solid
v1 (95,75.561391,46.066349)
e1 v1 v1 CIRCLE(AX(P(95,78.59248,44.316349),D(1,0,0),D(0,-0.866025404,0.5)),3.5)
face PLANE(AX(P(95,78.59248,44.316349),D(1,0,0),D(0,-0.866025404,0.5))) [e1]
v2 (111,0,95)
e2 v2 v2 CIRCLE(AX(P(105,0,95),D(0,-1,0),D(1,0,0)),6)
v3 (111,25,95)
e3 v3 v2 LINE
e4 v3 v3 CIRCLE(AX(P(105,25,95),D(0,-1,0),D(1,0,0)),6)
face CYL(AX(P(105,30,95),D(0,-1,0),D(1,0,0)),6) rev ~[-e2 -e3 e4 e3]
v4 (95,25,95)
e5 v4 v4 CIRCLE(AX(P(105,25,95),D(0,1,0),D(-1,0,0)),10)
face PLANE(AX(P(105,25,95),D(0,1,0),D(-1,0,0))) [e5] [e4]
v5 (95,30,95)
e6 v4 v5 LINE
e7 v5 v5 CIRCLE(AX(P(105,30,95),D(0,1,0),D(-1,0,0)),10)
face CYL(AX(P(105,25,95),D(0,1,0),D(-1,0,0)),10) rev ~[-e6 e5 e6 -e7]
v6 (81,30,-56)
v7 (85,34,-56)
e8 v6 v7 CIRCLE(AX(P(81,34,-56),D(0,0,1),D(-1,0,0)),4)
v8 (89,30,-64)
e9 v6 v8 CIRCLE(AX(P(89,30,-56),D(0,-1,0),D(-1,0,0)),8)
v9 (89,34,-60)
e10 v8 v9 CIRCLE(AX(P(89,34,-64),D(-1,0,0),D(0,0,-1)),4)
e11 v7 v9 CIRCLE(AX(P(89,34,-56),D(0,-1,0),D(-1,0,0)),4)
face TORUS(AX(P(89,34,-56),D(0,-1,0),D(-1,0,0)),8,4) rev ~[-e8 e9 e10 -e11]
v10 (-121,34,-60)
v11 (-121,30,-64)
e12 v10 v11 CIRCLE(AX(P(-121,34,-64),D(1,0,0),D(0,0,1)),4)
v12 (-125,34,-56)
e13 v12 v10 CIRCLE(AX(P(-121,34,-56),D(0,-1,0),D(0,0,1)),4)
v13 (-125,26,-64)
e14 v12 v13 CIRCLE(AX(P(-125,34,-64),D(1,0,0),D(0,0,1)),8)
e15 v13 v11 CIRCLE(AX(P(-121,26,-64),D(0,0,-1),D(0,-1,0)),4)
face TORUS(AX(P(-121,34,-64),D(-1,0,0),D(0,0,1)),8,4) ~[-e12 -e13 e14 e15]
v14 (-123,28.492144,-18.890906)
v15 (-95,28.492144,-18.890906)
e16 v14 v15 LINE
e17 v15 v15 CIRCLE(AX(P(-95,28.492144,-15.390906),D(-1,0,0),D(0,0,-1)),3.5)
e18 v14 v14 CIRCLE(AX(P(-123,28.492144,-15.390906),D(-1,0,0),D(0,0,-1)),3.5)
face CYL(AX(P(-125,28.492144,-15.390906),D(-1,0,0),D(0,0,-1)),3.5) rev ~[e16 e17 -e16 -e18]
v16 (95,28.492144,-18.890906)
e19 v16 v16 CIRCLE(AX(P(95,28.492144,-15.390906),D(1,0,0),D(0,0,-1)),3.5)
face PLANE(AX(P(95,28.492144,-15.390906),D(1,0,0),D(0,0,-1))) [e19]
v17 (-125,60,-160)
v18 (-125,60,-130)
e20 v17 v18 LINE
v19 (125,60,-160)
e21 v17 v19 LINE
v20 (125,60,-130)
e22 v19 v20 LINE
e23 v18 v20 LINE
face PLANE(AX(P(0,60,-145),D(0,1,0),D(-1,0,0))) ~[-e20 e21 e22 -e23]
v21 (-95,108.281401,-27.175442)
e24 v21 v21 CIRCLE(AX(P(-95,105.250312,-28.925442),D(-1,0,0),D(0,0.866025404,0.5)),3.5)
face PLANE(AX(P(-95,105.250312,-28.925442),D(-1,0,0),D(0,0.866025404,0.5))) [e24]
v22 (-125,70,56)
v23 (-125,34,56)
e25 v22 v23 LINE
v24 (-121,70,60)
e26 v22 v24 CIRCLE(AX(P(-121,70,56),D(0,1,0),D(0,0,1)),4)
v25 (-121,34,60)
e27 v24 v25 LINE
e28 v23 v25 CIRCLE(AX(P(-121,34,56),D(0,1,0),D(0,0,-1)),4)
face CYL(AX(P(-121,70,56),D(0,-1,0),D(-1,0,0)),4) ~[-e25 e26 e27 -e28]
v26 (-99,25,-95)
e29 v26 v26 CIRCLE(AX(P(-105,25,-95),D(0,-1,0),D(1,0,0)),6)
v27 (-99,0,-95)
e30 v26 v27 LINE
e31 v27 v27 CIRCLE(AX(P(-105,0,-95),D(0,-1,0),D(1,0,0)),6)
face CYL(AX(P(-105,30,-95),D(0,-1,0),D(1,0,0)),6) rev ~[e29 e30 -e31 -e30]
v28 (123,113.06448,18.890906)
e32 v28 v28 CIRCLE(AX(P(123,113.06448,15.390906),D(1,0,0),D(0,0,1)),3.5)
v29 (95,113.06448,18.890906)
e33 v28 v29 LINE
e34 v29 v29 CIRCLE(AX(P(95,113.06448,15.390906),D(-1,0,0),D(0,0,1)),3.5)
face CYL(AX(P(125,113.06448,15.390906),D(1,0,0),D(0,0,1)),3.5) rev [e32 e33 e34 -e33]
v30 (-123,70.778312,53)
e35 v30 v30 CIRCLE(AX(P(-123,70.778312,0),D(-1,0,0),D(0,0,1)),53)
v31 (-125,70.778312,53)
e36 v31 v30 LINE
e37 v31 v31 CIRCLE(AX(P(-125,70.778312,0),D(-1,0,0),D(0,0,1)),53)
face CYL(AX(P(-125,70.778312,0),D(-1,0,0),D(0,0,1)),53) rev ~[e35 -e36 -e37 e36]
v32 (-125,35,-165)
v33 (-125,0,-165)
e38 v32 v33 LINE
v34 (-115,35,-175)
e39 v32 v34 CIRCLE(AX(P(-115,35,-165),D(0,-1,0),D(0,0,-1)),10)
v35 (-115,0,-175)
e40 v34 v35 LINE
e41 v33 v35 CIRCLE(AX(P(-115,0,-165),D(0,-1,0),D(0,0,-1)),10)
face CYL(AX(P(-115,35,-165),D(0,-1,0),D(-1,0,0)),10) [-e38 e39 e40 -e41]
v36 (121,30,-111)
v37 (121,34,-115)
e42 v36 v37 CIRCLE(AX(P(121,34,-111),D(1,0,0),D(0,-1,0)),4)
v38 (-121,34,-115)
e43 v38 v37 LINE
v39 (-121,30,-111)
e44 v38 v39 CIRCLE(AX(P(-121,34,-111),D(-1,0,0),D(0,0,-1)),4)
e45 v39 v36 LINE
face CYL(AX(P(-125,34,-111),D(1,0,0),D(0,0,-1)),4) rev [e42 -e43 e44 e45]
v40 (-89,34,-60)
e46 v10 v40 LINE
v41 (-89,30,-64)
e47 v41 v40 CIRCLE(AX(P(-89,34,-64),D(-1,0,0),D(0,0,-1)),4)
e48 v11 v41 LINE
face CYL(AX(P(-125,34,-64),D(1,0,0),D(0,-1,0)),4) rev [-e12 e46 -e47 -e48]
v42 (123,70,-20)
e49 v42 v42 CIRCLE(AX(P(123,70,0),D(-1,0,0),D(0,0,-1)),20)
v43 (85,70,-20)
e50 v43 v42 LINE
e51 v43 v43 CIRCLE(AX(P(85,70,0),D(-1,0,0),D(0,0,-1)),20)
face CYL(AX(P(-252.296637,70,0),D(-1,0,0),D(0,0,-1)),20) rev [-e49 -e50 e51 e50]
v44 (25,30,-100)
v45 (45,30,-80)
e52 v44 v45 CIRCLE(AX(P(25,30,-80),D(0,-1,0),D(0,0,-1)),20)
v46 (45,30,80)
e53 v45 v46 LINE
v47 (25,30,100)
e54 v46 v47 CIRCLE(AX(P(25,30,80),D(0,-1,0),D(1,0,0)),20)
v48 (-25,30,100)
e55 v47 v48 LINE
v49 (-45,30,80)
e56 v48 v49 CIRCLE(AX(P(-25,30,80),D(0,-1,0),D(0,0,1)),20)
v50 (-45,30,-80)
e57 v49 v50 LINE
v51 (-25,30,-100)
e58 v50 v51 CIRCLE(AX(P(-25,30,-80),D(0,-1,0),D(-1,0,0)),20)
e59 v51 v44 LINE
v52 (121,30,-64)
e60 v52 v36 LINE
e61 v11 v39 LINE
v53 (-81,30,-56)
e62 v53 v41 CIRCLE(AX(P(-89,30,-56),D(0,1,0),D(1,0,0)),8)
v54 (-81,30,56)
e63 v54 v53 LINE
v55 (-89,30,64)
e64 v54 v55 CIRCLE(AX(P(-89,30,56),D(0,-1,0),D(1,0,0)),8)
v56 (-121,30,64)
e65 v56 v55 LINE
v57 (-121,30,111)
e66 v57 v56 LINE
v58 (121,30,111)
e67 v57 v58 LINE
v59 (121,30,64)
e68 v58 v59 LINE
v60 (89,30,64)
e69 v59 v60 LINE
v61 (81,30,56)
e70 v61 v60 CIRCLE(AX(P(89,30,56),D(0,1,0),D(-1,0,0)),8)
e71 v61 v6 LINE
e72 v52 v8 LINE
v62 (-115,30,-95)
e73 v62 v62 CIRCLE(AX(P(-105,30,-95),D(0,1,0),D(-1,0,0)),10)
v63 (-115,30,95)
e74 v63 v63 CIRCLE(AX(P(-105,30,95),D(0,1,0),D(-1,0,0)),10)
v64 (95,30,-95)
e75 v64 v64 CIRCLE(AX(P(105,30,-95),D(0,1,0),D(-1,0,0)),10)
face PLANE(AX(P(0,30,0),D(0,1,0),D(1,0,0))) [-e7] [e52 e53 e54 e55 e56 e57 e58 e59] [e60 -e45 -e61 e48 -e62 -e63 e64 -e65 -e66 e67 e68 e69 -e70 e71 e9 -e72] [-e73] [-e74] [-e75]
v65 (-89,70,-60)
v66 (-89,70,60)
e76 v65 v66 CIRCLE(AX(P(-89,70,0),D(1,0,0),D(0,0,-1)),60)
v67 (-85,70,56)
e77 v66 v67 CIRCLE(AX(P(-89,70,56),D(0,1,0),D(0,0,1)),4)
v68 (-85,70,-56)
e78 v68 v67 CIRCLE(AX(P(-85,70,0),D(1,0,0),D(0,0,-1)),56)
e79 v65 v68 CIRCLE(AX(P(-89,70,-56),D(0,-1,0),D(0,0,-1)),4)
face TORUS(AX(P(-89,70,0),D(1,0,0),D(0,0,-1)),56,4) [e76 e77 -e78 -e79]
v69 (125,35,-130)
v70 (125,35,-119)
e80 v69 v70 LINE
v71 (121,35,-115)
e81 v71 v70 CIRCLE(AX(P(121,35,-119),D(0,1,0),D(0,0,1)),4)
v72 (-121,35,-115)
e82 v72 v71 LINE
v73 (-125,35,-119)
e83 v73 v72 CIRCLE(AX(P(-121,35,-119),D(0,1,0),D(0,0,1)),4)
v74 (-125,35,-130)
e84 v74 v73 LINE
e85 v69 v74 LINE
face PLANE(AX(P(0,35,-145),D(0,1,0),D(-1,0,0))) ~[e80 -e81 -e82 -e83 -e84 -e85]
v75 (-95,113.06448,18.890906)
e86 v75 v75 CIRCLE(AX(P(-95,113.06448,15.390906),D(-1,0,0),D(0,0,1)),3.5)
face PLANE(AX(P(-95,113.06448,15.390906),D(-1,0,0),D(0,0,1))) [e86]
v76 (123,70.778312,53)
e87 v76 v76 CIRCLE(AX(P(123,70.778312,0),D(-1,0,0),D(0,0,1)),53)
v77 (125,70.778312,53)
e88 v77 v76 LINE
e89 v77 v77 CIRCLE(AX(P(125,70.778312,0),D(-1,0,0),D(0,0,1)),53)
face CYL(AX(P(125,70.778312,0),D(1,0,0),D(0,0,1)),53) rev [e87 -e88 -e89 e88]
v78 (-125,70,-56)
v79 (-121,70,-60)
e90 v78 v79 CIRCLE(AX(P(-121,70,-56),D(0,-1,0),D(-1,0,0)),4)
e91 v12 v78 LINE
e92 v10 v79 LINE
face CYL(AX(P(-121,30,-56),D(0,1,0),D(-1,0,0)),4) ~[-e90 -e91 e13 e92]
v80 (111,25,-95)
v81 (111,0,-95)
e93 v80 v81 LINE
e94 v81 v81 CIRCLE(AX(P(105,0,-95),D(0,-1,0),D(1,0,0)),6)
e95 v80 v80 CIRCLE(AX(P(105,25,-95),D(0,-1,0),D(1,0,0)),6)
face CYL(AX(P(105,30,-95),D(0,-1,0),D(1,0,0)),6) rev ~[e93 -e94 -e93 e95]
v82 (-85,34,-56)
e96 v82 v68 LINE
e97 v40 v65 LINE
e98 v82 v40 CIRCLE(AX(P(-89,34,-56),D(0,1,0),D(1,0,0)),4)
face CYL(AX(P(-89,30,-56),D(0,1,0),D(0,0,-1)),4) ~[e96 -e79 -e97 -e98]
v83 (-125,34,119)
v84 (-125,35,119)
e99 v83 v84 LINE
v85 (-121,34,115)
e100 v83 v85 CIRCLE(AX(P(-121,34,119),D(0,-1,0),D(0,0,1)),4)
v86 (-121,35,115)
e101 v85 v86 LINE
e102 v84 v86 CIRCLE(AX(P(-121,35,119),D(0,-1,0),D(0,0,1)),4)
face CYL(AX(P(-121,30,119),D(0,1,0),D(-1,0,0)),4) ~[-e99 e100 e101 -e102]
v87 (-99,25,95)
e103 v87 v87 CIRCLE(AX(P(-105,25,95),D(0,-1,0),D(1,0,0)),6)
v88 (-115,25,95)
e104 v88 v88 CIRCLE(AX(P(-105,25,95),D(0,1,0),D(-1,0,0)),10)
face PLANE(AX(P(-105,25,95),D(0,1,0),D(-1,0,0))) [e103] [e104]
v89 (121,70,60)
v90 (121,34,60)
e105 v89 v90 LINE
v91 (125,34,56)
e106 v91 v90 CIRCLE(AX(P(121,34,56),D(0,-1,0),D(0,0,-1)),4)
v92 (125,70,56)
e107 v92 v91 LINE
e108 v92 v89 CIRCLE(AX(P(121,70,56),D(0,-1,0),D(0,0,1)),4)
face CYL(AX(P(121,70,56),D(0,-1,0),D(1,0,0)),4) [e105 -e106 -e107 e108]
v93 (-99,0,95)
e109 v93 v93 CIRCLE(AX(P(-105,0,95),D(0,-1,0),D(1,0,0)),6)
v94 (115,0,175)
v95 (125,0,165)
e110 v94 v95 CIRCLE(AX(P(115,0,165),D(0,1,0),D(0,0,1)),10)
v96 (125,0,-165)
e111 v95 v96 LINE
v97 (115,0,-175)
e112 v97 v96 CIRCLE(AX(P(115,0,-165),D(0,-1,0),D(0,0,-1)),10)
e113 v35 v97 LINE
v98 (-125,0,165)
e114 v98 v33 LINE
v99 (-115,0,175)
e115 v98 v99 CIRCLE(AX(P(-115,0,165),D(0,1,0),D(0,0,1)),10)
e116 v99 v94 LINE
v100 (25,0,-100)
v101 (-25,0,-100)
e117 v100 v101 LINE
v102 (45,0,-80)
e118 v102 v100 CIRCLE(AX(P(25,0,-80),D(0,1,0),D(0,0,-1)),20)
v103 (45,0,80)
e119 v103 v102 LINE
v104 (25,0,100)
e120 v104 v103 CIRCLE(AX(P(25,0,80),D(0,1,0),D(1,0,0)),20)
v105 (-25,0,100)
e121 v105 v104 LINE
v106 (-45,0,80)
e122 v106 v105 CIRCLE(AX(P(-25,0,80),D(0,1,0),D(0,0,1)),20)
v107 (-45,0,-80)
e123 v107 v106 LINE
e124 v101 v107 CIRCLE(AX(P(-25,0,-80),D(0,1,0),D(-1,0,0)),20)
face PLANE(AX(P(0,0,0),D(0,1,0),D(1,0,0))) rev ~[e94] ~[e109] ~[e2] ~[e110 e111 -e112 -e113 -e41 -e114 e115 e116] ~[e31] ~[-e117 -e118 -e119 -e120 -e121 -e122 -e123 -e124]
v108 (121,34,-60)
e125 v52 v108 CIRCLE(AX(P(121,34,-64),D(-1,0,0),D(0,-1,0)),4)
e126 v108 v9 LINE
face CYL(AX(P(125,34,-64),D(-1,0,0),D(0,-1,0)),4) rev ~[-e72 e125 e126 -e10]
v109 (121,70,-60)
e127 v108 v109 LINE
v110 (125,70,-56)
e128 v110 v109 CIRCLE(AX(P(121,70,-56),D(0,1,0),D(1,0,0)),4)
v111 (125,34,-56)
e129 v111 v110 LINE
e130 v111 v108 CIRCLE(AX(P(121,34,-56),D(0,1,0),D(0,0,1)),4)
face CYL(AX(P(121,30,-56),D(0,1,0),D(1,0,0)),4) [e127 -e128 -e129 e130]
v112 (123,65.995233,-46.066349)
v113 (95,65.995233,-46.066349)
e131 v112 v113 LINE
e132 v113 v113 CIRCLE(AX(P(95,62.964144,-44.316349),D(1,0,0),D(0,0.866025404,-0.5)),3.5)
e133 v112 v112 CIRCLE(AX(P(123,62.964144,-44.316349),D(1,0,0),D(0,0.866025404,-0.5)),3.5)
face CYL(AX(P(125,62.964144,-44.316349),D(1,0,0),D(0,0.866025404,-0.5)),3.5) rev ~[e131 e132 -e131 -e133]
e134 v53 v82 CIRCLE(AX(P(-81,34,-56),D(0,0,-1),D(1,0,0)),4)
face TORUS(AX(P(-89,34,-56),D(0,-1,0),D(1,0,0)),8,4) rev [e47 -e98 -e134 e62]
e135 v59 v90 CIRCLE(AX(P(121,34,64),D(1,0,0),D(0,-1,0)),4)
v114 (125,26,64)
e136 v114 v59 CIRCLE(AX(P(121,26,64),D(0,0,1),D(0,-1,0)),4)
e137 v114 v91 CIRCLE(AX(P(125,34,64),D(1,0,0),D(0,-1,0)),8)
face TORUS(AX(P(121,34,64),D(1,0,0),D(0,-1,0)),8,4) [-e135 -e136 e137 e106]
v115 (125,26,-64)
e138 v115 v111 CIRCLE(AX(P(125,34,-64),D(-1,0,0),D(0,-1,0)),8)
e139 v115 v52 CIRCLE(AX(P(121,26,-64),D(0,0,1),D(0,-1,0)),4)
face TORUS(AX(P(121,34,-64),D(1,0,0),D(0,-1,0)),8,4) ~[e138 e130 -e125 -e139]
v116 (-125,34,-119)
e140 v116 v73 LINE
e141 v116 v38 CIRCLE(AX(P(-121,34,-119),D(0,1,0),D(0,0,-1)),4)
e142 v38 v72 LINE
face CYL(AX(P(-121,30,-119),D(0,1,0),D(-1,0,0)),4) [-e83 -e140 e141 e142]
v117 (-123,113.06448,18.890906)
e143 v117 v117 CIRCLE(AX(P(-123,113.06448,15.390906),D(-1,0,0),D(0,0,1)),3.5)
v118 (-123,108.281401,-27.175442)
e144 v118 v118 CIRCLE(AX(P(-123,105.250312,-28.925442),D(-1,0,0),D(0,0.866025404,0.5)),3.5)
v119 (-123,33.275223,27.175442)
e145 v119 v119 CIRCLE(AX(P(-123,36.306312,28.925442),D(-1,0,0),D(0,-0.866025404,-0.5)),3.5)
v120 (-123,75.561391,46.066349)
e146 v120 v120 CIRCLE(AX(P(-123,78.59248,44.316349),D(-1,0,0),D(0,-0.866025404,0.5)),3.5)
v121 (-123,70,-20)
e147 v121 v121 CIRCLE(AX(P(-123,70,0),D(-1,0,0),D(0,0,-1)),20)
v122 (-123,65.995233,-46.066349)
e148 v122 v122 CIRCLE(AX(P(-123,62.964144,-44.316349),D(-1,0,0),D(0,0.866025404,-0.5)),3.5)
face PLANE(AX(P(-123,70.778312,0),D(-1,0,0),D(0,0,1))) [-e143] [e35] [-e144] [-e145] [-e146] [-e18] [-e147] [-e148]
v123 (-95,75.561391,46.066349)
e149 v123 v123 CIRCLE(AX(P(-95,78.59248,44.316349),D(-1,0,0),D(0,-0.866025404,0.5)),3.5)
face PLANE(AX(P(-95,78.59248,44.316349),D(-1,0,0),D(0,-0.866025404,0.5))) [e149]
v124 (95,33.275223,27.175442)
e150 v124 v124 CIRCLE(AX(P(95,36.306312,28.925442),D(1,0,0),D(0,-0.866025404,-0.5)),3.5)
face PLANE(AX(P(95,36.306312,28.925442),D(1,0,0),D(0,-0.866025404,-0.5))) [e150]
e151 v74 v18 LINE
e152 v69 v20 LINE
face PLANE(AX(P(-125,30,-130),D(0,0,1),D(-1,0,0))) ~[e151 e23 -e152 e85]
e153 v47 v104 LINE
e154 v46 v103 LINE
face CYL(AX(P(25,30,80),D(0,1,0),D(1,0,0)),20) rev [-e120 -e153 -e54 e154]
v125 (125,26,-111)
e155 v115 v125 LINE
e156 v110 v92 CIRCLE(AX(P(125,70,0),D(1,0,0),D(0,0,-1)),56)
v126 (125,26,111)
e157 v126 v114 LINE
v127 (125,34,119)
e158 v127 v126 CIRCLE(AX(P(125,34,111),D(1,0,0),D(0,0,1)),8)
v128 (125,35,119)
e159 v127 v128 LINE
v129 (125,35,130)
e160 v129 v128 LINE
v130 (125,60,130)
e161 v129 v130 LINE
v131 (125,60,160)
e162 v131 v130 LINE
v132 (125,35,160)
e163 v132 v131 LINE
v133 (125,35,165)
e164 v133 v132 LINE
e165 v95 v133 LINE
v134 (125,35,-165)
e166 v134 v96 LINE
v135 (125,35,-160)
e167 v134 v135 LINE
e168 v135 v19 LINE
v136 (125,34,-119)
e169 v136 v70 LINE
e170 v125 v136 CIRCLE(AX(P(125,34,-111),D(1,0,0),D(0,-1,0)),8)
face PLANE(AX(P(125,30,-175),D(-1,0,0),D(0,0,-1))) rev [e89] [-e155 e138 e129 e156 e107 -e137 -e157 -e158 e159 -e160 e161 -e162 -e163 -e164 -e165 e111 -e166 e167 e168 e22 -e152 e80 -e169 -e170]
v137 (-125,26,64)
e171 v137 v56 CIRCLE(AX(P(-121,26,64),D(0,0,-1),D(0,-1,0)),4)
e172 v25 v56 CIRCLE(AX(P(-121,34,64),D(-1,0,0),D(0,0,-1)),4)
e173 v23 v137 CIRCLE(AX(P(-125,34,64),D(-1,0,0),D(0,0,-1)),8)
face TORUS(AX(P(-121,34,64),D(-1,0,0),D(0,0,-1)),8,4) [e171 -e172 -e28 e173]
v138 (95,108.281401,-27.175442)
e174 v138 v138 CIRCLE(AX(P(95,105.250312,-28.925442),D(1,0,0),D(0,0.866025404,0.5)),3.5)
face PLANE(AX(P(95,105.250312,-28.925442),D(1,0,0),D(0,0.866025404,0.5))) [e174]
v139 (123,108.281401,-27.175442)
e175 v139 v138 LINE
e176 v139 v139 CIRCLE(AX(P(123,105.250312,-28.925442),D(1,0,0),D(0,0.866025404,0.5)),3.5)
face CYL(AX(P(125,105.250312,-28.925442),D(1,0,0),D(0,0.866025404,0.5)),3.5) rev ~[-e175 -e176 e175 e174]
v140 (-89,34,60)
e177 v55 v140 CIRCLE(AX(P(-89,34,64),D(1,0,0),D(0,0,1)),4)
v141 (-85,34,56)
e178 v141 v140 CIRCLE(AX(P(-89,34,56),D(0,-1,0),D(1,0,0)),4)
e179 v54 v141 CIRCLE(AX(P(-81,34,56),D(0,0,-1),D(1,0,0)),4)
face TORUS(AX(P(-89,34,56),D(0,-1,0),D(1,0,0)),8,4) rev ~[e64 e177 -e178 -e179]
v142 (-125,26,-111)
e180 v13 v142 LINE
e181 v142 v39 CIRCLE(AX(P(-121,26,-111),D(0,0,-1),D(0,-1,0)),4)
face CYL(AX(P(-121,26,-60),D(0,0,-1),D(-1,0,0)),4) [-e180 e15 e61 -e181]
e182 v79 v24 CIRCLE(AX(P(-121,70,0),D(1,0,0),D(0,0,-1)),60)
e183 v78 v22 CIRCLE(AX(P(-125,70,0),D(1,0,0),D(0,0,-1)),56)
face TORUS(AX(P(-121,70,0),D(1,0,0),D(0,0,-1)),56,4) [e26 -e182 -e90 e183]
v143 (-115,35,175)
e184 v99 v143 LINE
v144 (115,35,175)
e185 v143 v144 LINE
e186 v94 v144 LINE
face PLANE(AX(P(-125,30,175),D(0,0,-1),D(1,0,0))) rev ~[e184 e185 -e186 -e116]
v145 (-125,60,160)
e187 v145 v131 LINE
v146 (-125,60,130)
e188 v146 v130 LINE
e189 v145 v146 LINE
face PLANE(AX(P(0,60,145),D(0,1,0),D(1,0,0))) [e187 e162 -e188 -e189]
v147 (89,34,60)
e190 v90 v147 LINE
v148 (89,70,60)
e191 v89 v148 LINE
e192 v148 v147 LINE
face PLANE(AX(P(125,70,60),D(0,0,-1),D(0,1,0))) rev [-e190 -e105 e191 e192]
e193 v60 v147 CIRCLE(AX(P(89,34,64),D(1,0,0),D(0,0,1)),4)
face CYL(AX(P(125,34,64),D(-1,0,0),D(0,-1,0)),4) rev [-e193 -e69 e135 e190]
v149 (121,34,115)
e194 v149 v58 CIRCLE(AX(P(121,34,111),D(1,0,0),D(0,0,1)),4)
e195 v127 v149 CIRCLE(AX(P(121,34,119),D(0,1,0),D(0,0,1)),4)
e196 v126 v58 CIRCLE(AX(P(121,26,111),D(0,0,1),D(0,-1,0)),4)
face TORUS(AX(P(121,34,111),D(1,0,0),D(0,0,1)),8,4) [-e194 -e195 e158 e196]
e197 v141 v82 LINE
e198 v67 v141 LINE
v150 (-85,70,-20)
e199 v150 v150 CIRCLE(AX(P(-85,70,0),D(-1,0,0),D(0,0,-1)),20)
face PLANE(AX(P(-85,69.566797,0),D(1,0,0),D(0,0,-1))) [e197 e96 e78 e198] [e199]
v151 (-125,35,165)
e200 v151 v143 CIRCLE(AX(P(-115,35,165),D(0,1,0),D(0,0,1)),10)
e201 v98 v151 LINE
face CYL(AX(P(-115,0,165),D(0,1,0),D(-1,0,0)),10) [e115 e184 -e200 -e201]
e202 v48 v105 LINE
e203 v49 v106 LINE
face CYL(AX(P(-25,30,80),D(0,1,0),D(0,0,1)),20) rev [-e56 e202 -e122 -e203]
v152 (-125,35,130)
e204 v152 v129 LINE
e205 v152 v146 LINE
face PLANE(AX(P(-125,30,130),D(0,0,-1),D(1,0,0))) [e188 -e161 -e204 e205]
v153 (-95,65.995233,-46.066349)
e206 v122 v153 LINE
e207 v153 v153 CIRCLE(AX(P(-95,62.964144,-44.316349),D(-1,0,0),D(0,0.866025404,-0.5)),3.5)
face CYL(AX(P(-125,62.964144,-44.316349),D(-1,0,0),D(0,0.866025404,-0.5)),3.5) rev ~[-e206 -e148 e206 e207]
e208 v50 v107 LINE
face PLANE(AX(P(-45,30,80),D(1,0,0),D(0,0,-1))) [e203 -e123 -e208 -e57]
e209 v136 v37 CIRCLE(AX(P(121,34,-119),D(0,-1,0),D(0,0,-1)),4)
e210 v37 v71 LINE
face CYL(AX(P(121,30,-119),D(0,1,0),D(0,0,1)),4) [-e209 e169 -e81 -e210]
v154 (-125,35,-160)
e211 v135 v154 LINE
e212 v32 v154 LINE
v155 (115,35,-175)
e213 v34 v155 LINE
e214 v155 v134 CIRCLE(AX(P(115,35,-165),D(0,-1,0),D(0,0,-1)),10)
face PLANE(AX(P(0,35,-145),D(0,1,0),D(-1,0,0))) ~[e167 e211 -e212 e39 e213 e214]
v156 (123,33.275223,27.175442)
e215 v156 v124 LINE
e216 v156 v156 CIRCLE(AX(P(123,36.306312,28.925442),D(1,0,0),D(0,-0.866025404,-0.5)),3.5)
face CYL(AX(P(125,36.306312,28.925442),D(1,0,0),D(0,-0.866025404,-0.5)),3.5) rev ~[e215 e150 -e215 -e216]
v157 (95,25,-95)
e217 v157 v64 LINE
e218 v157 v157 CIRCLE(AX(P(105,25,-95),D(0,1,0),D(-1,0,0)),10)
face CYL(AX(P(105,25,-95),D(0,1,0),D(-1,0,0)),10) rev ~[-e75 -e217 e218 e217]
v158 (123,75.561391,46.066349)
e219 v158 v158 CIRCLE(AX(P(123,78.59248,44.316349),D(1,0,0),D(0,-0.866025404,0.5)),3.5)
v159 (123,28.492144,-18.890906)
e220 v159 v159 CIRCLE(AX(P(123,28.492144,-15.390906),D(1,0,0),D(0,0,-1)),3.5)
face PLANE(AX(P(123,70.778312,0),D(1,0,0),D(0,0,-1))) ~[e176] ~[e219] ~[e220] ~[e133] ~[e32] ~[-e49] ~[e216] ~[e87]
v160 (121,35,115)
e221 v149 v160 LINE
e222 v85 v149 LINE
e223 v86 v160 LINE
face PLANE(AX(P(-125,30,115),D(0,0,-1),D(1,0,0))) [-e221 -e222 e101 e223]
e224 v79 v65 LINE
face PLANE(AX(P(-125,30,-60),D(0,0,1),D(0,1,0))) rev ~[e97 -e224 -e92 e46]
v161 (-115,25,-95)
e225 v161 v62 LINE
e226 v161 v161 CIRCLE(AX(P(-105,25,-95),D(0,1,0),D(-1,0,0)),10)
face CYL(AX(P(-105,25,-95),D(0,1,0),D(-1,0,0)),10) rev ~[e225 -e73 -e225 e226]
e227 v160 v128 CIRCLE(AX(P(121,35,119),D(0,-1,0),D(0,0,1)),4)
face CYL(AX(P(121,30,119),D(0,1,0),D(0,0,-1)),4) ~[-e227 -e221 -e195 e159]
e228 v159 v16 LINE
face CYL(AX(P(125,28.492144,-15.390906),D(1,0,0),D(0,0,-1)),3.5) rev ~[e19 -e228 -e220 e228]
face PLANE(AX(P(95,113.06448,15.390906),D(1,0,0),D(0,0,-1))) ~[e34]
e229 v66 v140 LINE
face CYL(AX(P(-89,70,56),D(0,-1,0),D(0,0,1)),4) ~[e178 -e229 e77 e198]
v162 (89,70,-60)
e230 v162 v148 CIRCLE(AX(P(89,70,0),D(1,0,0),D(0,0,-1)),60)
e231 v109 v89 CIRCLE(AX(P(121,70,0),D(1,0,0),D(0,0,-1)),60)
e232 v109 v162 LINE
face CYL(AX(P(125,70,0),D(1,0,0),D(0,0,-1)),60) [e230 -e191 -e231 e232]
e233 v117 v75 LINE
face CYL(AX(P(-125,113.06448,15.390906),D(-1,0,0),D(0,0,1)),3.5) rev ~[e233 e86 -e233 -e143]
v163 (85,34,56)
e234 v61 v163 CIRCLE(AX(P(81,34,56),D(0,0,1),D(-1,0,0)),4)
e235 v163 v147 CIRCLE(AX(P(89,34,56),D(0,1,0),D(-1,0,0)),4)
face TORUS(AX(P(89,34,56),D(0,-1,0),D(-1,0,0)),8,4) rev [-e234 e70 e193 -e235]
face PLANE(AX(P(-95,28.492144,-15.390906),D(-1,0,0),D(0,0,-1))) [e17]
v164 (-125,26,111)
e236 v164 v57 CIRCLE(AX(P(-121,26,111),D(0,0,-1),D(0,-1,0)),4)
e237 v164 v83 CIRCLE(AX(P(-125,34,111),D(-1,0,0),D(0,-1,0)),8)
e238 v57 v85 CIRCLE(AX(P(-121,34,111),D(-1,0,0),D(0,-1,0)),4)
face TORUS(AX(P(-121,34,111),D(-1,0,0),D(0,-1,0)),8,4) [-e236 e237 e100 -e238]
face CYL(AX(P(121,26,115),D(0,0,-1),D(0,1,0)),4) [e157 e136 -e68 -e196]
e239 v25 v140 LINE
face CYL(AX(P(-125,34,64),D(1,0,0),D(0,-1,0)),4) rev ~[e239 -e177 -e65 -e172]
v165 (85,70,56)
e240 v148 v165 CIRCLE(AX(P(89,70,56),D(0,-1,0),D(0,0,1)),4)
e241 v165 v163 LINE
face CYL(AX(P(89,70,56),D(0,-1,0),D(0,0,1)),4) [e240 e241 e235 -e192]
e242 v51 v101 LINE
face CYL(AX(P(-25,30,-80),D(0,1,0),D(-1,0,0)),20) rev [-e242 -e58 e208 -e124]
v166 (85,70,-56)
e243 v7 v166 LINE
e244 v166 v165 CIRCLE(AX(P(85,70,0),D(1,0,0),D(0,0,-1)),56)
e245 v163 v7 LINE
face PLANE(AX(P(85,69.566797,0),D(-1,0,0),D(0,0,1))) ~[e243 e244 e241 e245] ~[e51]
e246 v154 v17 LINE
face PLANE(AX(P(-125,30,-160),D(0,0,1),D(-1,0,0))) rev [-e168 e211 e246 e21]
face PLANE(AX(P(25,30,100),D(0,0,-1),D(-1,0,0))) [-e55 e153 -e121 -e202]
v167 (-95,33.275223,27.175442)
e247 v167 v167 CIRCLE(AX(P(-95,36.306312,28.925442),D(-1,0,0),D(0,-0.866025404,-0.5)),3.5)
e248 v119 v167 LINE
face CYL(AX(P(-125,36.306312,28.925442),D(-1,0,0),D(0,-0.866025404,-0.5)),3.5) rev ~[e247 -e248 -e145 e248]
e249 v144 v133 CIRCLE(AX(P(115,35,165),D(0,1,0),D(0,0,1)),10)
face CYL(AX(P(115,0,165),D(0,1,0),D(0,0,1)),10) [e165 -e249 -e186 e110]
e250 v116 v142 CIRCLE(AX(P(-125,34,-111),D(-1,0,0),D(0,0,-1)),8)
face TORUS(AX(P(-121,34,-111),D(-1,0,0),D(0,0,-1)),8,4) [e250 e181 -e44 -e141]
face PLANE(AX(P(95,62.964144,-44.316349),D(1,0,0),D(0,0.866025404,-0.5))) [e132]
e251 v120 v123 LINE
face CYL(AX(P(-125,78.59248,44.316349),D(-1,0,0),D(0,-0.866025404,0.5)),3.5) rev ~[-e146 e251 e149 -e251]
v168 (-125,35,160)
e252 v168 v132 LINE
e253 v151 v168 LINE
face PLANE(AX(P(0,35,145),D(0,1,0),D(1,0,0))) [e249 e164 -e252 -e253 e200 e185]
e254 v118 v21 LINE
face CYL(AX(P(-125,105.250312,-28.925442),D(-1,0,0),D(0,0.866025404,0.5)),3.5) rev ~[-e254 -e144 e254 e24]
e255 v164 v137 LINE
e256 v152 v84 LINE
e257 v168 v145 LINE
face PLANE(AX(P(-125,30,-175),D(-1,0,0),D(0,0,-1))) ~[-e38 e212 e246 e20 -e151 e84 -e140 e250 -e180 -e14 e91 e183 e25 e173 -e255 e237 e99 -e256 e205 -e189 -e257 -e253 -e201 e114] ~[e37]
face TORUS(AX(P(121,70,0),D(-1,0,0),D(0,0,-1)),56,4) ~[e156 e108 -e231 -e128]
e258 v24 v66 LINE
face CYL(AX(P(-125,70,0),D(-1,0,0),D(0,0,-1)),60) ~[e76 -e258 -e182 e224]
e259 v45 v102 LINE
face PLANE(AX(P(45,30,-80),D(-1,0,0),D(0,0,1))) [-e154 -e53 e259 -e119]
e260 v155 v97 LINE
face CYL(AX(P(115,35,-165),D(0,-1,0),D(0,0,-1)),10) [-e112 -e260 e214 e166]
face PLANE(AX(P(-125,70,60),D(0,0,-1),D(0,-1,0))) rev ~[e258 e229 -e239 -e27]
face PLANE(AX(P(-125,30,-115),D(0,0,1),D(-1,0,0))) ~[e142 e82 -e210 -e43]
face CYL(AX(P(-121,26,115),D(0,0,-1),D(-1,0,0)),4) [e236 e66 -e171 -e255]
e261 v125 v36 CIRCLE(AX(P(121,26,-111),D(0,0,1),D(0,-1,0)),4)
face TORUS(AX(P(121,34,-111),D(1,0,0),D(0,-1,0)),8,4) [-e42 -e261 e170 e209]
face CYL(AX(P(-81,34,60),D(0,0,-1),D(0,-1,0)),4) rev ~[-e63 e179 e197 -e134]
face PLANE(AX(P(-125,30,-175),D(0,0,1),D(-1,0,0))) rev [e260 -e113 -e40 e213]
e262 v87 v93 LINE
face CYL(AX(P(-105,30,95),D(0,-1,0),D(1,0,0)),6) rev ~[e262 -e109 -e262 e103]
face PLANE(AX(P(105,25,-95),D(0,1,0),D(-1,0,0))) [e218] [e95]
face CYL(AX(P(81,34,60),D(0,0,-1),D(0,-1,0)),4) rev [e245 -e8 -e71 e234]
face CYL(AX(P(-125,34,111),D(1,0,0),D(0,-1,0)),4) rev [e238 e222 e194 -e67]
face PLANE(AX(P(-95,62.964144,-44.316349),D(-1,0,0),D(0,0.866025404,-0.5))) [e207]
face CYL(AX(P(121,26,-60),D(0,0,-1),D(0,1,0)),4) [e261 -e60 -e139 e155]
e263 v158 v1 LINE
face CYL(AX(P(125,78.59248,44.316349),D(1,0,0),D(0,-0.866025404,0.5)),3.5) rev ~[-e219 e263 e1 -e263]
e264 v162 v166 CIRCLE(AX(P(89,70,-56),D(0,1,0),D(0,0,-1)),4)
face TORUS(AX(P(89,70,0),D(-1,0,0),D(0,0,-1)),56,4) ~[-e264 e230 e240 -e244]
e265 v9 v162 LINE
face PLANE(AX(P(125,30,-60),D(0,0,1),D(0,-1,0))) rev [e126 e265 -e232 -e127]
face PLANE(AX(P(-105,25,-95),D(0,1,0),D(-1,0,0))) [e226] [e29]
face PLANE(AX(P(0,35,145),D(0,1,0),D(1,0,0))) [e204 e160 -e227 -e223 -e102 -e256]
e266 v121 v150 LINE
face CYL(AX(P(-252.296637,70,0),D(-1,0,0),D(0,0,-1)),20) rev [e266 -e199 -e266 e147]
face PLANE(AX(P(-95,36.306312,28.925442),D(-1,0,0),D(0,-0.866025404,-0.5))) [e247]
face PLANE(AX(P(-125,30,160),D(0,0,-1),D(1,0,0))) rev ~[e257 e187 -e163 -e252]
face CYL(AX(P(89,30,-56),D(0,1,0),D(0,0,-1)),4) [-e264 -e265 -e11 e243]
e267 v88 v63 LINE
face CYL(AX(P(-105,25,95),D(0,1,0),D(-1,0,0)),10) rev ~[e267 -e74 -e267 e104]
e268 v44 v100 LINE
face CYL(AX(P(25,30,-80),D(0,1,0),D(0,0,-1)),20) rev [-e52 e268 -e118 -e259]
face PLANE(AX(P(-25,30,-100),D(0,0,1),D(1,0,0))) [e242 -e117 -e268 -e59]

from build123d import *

# Parameters (mm, degrees)
SKETCH1_W               = 250
SKETCH1_H               = 350
BOSS_EXTRUDE1_DEPTH     = 30
SKETCH2_W               = 250
SKETCH2_H               = 30
BOSS_EXTRUDE2_DEPTH     = 30
SKETCH3_W               = 250
SKETCH3_H               = 60
BOSS_EXTRUDE3_DEPTH     = 5
BOSS_EXTRUDE4_DEPTH     = 40
SKETCH5_R               = 53
CUT_EXTRUDE1_DEPTH      = 2
SKETCH6_R               = 3.5
CUT_EXTRUDE2_DEPTH      = 30
CIRPATTERN1_COUNT       = 6
MIRROR2_COPY_1_SKETCH_R = 3.5
MIRROR2_COPY_1_DEPTH    = 30
MIRROR2_COPY_2_SKETCH_R = 3.5
MIRROR2_COPY_2_DEPTH    = 30
MIRROR2_COPY_3_SKETCH_R = 3.5
MIRROR2_COPY_3_DEPTH    = 30
MIRROR2_COPY_4_SKETCH_R = 3.5
MIRROR2_COPY_4_DEPTH    = 30
MIRROR2_COPY_5_SKETCH_R = 3.5
MIRROR2_COPY_5_DEPTH    = 30
CUT_EXTRUDE3_DEPTH      = 252.296637463
CUT_EXTRUDE3_DEPTH_BACK = 252.296637463
SKETCH7_R               = 20
CUT_EXTRUDE4_REACH      = 239.171
HOLE1_D                 = 12
HOLE1_CBORE_D           = 20
HOLE1_CBORE_DEPTH       = 5
LPATTERN1_COUNT         = 2
LPATTERN1_PITCH         = 190
LPATTERN1_COUNT_DIR2    = 2
LPATTERN1_PITCH_DIR2    = 210
FILLET1_R               = 10
FILLET2_R               = 4


with BuildPart() as part:
    # Sketch1 → Boss-Extrude1 (new body)
    with BuildSketch(Plane(origin=(0, 0, 0), x_dir=(1, 0, 0), z_dir=(0, 1, 0))):
        Rectangle(SKETCH1_W, SKETCH1_H)
    extrude(amount=BOSS_EXTRUDE1_DEPTH)

    # Sketch2 → Boss-Extrude2 (add)
    with BuildSketch(Plane(origin=(0, 30, 0), x_dir=(1, 0, 0), z_dir=(0, 1, 0))):
        with Locations((0, -145)):
            Rectangle(SKETCH2_W, SKETCH2_H)
    boss_extrude2 = extrude(amount=BOSS_EXTRUDE2_DEPTH)

    # Sketch3 → Boss-Extrude3 (add)
    with BuildSketch(Plane(origin=(0, 30, 0), x_dir=(1, 0, 0), z_dir=(0, 1, 0))):
        with Locations((0, -145)):
            Rectangle(SKETCH3_W, SKETCH3_H)
    boss_extrude3 = extrude(amount=BOSS_EXTRUDE3_DEPTH)

    # Mirror1: Boss-Extrude2, Boss-Extrude3 across plane
    add(boss_extrude2.mirror(Plane.XY))
    add(boss_extrude3.mirror(Plane.XY))

    # Sketch4 → Boss-Extrude4 (add)
    with BuildSketch(Plane.ZY.offset(125)):
        with BuildLine():
            Line((60, 30), (-60, 30))
            Line((-60, 30), (-60, 70))
            ThreePointArc((-60, 70), (0, 130), (60, 70))
            Line((60, 70), (60, 30))
        make_face()
    boss_extrude4 = extrude(amount=-BOSS_EXTRUDE4_DEPTH)

    # Sketch5 → Cut-Extrude1 (cut)
    with BuildSketch(Plane.ZY.offset(125)):
        with Locations((0, 70.778312247)):
            Circle(SKETCH5_R)
    cut_extrude1 = extrude(amount=-CUT_EXTRUDE1_DEPTH, mode=Mode.SUBTRACT)

    # Sketch6 → Cut-Extrude2 (cut)
    with BuildSketch(Plane.ZY.offset(125)):
        with Locations((15.39090645, 113.064480182)):
            Circle(SKETCH6_R)
    cut_extrude2 = extrude(amount=-CUT_EXTRUDE2_DEPTH, mode=Mode.SUBTRACT)

    # CirPattern1: Cut-Extrude2 ×6 about axis
    cirpattern1_axis = Axis((0, 70.778312247, 0), (1, 0, 0))
    for i in range(1, CIRPATTERN1_COUNT):
        add(cut_extrude2.rotate(cirpattern1_axis, i * 360 / CIRPATTERN1_COUNT), mode=Mode.SUBTRACT)

    # Mirror2: Boss-Extrude4, Cut-Extrude1, Cut-Extrude2 across plane
    add(boss_extrude4.mirror(Plane(origin=(0, 0, 0), x_dir=(0, 0, 1), z_dir=(1, 0, 0))))
    add(cut_extrude1.mirror(Plane(origin=(0, 0, 0), x_dir=(0, 0, 1), z_dir=(1, 0, 0))), mode=Mode.SUBTRACT)
    add(cut_extrude2.mirror(Plane(origin=(0, 0, 0), x_dir=(0, 0, 1), z_dir=(1, 0, 0))), mode=Mode.SUBTRACT)

    # Mirror2 copy 1 sketch → Mirror2 copy 1 (cut)
    with BuildSketch(Plane(origin=(125, 35.389156123, -61.295816443), x_dir=(0, -0.8660254037844386, 0.5000000000000001), z_dir=(1, 0, 0))):
        with Locations((15.39090645, -113.064480182)):
            Circle(MIRROR2_COPY_1_SKETCH_R)
    extrude(amount=-MIRROR2_COPY_1_DEPTH, mode=Mode.SUBTRACT)

    # Mirror2 copy 2 sketch → Mirror2 copy 2 (cut)
    with BuildSketch(Plane(origin=(125, 106.16746837, -61.295816443), x_dir=(0, -0.8660254037844387, -0.4999999999999998), z_dir=(1, 0, 0))):
        with Locations((15.39090645, -113.064480182)):
            Circle(MIRROR2_COPY_2_SKETCH_R)
    extrude(amount=-MIRROR2_COPY_2_DEPTH, mode=Mode.SUBTRACT)

    # Mirror2 copy 3 sketch → Mirror2 copy 3 (cut)
    with BuildSketch(Plane(origin=(125, 141.556624494, 0), x_dir=(0, 0, -1), z_dir=(1, 0, 0))):
        with Locations((15.39090645, -113.064480182)):
            Circle(MIRROR2_COPY_3_SKETCH_R)
    extrude(amount=-MIRROR2_COPY_3_DEPTH, mode=Mode.SUBTRACT)

    # Mirror2 copy 4 sketch → Mirror2 copy 4 (cut)
    with BuildSketch(Plane(origin=(125, 106.16746837, 61.295816443), x_dir=(0, 0.8660254037844384, -0.5000000000000004), z_dir=(1, 0, 0))):
        with Locations((15.39090645, -113.064480182)):
            Circle(MIRROR2_COPY_4_SKETCH_R)
    extrude(amount=-MIRROR2_COPY_4_DEPTH, mode=Mode.SUBTRACT)

    # Mirror2 copy 5 sketch → Mirror2 copy 5 (cut)
    with BuildSketch(Plane(origin=(125, 35.389156123, 61.295816443), x_dir=(0, 0.8660254037844386, 0.5000000000000001), z_dir=(1, 0, 0))):
        with Locations((15.39090645, -113.064480182)):
            Circle(MIRROR2_COPY_5_SKETCH_R)
    extrude(amount=-MIRROR2_COPY_5_DEPTH, mode=Mode.SUBTRACT)

    # Sketch7 → Cut-Extrude3 (cut, two sides: drawn at the far end of the back side and taken through both)
    with BuildSketch(Plane(origin=(0, 0, 0), x_dir=(0, 0, -1), z_dir=(1, 0, 0)).offset(-CUT_EXTRUDE3_DEPTH_BACK)):
        with Locations((0, 70)):
            Circle(SKETCH7_R)
    extrude(amount=CUT_EXTRUDE3_DEPTH + CUT_EXTRUDE3_DEPTH_BACK, mode=Mode.SUBTRACT)

    # Sketch8 → Cut-Extrude4 (cut, up to next)
    with BuildSketch(Plane(origin=(0, 30, 0), x_dir=(1, 0, 0), z_dir=(0, 1, 0)), mode=Mode.PRIVATE) as cut_extrude4_sk1:
        with BuildLine():
            Line((-25, 100), (25, 100))
            ThreePointArc((25, 100), (39.142135624, 94.142135624), (45, 80))
            Line((45, 80), (45, -80))
            ThreePointArc((45, -80), (39.142135624, -94.142135624), (25, -100))
            Line((25, -100), (-25, -100))
            ThreePointArc((-25, -100), (-39.142135624, -94.142135624), (-45, -80))
            Line((-45, -80), (-45, 80))
            ThreePointArc((-45, 80), (-39.142135624, 94.142135624), (-25, 100))
        make_face()
    cut_extrude4_tool1 = extrude(cut_extrude4_sk1.sketch, amount=-CUT_EXTRUDE4_REACH, mode=Mode.PRIVATE) & part.part
    add(cut_extrude4_tool1.solids().sort_by_distance((0, 30, 0))[0], mode=Mode.SUBTRACT)

    # Hole1 (through all)
    with Locations(Plane(origin=(0, 30, 0), x_dir=(-1, 0, 0), z_dir=(0, 1, 0))):
        with Locations((-105, -95)):
            hole1 = CounterBoreHole(HOLE1_D / 2, HOLE1_CBORE_D / 2, HOLE1_CBORE_DEPTH)

    # LPattern1: Hole1 2 × 2
    with Locations(*[(-j * LPATTERN1_PITCH_DIR2, 0, i * LPATTERN1_PITCH) for i in range(LPATTERN1_COUNT) for j in range(LPATTERN1_COUNT_DIR2) if (i, j) != (0, 0)]):
        add(hole1, mode=Mode.SUBTRACT)

    # Fillet1
    fillet1_edges = [part.edges().sort_by_distance(p)[0] for p in [
        (-125, 17.5, -175),
        (125, 17.5, -175),
        (125, 17.5, 175),
        (-125, 17.5, 175),
    ]]
    fillet(fillet1_edges, radius=FILLET1_R)

    # Fillet2
    fillet2_edges = [part.edges().sort_by_distance(p)[0] for p in [
        (125, 30, -87.5),
        (125, 50, 60),
        (105, 30, 60),
        (125, 130, 0),
        (125, 50, -60),
        (105, 30, -60),
        (85, 50, 60),
        (85, 130, 0),
        (85, 50, -60),
        (85, 30, 0),
        (125, 30, 87.5),
        (-125, 32.5, 115),
        (0, 30, 115),
        (125, 32.5, 115),
        (-125, 30, -87.5),
        (125, 32.5, -115),
        (0, 30, -115),
        (-125, 32.5, -115),
        (-125, 30, 87.5),
        (-85, 50, 60),
        (-85, 30, 0),
        (-105, 30, 60),
        (-85, 50, -60),
        (-105, 30, -60),
        (-85, 130, 0),
        (-125, 50, 60),
        (-125, 130, 0),
        (-125, 50, -60),
    ]]
    fillet(fillet2_edges, radius=FILLET2_R)


solid = part.part
